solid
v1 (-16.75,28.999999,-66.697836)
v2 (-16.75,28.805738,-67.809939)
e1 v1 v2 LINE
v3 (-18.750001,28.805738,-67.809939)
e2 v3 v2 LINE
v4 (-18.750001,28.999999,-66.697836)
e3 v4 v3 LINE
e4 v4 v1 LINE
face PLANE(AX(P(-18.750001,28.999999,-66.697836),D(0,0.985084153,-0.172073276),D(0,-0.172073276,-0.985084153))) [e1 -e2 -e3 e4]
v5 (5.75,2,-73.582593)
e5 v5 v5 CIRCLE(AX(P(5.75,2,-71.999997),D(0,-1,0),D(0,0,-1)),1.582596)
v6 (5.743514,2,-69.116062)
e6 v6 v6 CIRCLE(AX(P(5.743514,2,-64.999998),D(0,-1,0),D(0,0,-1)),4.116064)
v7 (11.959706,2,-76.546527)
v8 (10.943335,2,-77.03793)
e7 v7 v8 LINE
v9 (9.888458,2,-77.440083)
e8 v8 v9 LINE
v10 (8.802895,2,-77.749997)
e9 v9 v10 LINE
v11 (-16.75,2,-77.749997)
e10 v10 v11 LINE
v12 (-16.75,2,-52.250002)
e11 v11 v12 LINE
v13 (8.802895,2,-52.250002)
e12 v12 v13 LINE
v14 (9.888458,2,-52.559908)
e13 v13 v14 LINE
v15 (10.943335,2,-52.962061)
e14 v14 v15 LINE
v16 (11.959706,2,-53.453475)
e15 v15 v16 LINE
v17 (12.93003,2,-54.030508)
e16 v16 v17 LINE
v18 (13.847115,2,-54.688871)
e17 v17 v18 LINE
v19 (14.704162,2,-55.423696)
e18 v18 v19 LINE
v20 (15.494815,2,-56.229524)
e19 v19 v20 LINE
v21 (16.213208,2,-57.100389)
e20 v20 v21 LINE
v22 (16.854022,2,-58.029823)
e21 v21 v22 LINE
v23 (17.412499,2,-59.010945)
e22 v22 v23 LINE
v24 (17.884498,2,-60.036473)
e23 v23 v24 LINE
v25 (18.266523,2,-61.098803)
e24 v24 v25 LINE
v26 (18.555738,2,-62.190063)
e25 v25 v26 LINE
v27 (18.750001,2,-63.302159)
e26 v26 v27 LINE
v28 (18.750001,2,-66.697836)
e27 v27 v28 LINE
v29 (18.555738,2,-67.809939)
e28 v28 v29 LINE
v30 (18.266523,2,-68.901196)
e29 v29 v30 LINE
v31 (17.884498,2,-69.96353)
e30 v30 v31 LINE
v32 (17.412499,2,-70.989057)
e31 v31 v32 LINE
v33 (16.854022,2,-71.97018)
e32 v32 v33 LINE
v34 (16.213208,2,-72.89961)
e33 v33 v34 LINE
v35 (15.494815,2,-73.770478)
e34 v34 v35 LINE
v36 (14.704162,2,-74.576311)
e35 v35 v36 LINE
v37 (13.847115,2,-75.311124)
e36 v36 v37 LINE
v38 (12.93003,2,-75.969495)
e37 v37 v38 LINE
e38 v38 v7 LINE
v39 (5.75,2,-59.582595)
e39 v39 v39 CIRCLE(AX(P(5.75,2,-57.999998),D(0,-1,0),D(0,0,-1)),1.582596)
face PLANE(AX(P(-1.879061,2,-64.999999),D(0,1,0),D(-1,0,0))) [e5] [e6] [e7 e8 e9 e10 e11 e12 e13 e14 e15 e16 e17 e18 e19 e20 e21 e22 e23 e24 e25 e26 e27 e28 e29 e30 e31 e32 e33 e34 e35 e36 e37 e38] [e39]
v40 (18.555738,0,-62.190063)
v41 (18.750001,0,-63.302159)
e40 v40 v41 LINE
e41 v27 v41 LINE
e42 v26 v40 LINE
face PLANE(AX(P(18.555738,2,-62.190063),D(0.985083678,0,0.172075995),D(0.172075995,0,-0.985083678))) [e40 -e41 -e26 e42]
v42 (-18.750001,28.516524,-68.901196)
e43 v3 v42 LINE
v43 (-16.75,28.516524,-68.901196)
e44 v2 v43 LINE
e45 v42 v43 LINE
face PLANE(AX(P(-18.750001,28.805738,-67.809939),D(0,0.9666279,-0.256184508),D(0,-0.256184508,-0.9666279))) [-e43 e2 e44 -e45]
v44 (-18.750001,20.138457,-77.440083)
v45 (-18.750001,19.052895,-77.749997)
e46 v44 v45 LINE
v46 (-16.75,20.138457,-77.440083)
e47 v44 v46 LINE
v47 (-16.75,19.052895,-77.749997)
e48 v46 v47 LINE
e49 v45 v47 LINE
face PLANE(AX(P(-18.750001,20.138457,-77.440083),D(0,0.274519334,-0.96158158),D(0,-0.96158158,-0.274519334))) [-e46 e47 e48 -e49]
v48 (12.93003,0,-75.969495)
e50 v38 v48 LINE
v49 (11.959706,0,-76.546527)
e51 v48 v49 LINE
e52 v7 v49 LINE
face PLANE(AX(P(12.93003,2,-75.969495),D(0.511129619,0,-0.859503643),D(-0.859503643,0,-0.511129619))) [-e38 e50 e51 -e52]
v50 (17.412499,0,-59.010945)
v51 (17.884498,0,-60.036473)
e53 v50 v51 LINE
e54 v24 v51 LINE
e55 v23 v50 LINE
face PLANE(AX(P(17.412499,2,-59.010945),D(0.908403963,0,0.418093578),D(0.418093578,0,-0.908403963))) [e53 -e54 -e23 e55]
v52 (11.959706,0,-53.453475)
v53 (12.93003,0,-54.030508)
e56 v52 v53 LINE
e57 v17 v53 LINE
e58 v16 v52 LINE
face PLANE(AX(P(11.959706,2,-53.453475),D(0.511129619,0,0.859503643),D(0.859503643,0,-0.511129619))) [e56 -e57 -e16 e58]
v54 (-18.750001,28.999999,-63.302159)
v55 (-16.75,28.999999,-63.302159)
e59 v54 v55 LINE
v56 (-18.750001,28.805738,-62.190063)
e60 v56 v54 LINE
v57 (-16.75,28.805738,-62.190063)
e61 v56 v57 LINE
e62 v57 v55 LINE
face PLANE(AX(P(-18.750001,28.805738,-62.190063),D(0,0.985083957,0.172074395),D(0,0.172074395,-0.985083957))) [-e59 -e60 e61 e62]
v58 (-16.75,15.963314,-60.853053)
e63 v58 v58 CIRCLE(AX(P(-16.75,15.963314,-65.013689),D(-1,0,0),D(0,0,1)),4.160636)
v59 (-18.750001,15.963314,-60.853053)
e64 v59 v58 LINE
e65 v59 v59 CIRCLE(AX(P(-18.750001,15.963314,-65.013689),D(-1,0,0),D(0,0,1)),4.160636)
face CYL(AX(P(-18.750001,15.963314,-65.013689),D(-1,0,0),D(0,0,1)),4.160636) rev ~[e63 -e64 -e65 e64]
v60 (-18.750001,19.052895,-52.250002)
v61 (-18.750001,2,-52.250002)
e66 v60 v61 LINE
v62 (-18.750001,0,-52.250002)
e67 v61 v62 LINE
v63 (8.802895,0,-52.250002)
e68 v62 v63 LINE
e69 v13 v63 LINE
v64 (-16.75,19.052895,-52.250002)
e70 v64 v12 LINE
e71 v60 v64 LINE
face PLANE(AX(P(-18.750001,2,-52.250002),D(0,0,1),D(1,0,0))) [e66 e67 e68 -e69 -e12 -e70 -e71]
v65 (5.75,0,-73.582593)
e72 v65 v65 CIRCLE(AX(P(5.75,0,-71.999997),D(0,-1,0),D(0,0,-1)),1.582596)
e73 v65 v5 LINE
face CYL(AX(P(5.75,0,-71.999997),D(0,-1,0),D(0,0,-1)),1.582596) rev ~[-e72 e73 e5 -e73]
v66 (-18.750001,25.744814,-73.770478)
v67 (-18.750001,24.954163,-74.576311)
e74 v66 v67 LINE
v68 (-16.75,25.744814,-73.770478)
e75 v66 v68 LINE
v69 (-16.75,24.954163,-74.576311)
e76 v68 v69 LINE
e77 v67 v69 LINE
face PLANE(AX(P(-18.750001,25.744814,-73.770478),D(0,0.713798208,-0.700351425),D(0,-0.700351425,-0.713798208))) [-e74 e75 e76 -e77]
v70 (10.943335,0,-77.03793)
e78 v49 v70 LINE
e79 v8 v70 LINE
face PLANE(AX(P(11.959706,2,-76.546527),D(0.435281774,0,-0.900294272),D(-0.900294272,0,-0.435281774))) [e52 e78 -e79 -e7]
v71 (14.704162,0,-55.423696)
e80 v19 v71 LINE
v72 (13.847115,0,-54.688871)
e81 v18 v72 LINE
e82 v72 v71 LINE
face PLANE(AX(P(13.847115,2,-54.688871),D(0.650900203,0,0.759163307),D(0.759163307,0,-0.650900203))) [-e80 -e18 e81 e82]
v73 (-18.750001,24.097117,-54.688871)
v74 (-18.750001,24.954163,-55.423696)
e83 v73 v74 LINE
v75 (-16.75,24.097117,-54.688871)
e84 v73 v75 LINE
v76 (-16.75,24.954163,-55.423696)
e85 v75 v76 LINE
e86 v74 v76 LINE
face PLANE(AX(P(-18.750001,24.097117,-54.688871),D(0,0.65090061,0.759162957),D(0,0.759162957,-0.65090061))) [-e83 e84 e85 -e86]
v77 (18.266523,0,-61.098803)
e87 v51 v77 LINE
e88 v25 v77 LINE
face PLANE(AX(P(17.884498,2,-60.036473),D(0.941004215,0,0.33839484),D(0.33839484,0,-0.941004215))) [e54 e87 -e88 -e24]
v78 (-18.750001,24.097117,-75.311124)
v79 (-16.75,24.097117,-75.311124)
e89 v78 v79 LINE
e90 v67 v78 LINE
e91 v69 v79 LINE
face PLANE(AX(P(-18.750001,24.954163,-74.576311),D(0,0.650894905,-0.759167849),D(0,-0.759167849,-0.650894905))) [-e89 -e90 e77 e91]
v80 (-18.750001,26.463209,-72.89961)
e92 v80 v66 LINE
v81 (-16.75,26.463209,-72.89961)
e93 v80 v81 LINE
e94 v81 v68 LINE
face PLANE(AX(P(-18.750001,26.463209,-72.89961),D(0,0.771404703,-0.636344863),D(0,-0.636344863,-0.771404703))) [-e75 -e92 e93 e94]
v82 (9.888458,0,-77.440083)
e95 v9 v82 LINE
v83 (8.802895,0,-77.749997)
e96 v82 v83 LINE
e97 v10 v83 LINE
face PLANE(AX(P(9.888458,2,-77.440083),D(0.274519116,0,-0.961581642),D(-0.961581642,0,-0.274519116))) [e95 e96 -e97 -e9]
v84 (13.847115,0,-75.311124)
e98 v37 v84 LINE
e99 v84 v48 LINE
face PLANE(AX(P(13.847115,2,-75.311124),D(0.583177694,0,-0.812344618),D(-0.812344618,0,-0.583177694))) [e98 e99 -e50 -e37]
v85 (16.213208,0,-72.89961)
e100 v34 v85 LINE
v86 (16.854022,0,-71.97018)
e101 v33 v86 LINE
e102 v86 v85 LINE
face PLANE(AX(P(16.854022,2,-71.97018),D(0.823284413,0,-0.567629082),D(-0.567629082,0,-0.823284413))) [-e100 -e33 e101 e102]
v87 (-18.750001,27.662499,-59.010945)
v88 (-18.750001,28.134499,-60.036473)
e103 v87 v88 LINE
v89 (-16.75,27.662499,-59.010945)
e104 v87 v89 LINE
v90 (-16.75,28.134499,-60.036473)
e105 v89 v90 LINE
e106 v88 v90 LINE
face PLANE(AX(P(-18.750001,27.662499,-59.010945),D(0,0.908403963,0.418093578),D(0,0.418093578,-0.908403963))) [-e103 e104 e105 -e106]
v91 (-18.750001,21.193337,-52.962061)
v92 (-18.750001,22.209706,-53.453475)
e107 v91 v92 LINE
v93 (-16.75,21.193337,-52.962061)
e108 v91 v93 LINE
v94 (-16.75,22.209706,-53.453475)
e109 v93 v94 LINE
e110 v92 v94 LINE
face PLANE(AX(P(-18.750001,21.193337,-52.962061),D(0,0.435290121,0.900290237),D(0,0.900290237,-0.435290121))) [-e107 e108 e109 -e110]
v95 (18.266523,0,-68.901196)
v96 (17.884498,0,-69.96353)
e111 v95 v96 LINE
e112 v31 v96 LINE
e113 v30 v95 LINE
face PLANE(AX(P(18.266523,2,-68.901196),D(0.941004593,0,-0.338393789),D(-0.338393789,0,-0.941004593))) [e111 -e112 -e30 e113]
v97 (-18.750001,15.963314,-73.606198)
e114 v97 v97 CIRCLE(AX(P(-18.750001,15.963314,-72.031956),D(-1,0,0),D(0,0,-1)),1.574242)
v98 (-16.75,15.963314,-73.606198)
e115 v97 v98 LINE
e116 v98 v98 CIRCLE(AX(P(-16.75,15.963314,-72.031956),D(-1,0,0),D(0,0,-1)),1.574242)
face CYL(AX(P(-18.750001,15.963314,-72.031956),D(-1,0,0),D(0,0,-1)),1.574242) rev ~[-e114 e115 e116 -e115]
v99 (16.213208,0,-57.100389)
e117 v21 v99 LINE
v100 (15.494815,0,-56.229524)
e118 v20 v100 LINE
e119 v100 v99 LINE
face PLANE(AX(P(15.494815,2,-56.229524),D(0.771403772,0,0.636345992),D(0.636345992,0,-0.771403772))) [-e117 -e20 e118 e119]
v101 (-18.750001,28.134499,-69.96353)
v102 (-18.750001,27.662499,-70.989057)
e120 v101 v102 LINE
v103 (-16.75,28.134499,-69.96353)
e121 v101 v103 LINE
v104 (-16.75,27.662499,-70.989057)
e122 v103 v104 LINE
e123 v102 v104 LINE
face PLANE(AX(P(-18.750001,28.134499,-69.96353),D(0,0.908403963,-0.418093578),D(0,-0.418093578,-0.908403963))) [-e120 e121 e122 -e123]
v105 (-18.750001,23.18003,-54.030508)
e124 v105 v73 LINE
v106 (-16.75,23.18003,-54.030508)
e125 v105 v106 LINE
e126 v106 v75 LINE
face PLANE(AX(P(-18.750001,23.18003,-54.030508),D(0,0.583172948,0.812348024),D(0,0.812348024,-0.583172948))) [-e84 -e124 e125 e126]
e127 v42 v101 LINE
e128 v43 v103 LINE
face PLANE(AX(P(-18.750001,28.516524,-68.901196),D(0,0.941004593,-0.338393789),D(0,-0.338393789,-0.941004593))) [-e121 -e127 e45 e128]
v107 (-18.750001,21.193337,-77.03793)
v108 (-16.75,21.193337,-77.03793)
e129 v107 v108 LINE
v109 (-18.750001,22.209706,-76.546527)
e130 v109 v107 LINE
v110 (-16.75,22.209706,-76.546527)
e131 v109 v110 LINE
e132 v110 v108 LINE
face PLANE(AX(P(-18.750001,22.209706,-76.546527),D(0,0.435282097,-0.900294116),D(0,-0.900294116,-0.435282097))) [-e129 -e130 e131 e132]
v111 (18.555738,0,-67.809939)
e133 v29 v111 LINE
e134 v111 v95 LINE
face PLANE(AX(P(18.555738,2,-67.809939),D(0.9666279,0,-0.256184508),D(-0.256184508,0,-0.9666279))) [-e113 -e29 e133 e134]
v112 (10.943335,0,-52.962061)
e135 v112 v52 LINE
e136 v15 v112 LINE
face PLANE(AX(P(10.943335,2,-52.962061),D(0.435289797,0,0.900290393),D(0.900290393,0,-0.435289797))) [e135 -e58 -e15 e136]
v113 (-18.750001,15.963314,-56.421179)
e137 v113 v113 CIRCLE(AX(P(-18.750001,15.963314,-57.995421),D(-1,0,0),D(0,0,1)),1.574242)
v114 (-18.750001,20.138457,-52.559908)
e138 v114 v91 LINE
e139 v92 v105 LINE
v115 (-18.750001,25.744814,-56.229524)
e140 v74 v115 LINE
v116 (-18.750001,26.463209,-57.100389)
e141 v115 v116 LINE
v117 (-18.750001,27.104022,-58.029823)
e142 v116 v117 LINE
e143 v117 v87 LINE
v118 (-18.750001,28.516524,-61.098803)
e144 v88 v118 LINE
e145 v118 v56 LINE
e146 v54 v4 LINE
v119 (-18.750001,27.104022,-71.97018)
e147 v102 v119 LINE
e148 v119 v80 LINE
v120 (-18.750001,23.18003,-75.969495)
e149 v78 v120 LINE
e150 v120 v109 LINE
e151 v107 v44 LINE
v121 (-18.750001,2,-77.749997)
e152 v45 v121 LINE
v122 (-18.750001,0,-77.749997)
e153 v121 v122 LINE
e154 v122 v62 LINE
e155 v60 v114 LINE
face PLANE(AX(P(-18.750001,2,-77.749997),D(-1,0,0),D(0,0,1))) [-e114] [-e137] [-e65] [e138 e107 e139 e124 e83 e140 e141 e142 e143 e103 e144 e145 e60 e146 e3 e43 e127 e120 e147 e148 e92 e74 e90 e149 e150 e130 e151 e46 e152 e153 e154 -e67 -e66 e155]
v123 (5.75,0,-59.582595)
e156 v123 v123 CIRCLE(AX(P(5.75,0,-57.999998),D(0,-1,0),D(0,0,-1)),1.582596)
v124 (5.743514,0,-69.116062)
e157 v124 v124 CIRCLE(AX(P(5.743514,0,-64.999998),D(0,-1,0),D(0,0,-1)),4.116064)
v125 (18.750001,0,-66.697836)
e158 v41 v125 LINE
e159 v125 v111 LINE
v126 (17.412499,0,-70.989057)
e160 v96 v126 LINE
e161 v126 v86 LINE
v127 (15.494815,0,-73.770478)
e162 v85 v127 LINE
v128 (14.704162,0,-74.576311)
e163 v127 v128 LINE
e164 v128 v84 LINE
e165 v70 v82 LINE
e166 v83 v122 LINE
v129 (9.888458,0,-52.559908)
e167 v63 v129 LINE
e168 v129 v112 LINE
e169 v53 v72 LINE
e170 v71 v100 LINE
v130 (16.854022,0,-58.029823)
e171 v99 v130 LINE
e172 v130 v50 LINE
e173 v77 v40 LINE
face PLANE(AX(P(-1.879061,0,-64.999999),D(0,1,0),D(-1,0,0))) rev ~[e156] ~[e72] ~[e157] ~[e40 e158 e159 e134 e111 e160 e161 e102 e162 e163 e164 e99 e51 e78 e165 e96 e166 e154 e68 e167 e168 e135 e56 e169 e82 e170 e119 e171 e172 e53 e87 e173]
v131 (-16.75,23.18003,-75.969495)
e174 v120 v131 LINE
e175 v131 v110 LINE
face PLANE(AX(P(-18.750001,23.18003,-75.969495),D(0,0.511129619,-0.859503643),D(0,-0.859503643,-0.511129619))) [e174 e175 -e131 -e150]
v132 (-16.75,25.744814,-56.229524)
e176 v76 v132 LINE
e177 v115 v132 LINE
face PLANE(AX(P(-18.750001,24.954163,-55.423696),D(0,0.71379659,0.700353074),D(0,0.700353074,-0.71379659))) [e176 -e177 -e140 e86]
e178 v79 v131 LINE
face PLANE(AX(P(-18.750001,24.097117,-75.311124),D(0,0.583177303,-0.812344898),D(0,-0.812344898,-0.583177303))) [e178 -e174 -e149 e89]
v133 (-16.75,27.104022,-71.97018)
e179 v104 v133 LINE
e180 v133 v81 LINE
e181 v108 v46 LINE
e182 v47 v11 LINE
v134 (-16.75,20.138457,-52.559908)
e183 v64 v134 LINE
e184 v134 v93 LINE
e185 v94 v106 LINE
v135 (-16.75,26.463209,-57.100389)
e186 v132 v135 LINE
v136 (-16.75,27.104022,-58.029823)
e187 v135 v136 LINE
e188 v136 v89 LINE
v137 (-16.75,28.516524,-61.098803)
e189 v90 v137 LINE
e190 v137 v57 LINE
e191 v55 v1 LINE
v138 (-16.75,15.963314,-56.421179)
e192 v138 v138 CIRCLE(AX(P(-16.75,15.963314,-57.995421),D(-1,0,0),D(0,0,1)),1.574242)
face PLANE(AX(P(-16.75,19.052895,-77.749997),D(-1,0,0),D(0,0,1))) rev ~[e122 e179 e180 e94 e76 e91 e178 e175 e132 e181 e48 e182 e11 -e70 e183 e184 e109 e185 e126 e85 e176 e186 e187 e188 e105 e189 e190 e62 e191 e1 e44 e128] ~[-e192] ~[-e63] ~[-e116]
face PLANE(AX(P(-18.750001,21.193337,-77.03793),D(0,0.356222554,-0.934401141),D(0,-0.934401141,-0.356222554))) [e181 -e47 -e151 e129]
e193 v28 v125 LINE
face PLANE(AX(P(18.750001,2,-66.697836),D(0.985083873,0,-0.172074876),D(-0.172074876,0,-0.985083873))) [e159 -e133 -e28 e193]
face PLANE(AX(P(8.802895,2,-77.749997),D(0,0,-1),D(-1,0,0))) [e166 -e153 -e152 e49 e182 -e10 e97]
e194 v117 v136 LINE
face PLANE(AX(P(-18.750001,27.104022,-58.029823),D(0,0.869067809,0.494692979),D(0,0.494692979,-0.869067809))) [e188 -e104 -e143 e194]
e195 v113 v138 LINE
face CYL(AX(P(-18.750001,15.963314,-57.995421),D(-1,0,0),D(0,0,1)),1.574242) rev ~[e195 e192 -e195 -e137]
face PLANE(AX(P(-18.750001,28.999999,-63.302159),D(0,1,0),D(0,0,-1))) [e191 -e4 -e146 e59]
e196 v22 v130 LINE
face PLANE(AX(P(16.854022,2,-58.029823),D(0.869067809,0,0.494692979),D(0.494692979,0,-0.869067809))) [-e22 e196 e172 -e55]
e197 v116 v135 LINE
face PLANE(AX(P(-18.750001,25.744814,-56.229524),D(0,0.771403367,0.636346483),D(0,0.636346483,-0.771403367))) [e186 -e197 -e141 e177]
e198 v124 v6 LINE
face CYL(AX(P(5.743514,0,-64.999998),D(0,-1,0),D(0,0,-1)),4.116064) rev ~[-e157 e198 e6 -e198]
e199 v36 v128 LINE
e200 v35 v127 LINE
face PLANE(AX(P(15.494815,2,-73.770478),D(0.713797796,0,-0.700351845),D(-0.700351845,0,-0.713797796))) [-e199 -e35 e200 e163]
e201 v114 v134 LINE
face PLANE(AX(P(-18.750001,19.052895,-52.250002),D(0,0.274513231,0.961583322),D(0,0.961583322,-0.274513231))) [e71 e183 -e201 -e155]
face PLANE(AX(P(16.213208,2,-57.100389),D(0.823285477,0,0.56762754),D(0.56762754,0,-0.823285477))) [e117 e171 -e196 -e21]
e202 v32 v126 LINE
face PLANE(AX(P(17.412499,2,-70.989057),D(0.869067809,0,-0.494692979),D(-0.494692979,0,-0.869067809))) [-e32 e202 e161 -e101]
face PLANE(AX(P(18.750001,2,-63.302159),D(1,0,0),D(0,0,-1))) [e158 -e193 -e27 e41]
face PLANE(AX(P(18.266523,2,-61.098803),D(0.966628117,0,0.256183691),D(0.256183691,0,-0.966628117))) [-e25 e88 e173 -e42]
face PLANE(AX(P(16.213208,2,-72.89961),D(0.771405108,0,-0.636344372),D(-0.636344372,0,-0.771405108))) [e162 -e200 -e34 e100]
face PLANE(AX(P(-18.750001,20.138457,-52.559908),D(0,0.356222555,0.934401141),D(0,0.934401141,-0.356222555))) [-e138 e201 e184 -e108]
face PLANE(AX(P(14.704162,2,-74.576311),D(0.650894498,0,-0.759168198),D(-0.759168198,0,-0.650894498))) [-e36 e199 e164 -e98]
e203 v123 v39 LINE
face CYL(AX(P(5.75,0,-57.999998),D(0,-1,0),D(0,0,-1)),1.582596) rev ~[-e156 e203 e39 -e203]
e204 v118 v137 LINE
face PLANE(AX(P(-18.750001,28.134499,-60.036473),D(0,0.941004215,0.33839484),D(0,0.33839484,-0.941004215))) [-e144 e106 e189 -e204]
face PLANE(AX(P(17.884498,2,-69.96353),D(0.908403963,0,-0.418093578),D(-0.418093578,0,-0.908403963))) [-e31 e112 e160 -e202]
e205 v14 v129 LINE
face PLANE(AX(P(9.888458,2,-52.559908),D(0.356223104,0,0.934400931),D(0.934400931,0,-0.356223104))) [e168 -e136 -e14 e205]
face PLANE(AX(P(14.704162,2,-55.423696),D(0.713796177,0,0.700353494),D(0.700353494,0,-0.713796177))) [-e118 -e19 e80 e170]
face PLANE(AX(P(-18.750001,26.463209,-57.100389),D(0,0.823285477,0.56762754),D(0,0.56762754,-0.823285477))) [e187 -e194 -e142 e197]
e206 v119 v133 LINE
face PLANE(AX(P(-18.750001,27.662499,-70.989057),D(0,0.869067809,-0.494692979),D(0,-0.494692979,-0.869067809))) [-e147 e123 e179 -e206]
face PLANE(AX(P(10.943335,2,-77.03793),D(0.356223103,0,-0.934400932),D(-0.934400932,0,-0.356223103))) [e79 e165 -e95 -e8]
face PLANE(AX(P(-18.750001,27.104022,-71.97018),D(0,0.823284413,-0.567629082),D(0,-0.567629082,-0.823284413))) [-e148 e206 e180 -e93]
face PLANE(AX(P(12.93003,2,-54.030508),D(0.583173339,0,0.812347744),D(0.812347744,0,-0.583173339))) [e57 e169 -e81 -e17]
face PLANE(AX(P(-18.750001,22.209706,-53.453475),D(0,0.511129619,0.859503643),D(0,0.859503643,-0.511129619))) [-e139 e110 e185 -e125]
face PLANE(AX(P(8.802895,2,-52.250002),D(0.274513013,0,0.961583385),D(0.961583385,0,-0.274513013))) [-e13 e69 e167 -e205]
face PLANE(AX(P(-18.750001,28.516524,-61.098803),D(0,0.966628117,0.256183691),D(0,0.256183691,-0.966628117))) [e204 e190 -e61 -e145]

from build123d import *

# Parameters (mm, degrees)
SALIENTE_EXTRUIR1_DEPTH = 2.000000328
CROQUIS2_W              = 2.000000328
CROQUIS2_H              = 25.499995797
SALIENTE_EXTRUIR2_DEPTH = 17.052894691
SALIENTE_EXTRUIR3_DEPTH = 2.000000095
CORTAR_EXTRUIR1_DEPTH   = 92.062133489
CORTAR_EXTRUIR2_DEPTH   = 92.062133489
CORTAR_EXTRUIR3_DEPTH   = 85.413414633
CORTAR_EXTRUIR4_DEPTH   = 85.413414633
CORTAR_EXTRUIR5_DEPTH   = 85.413414633
CORTAR_EXTRUIR6_DEPTH   = 91.256922872
CROQUIS10_R             = 4.160635969
CROQUIS10_R_2           = 1.574242088
CORTAR_EXTRUIR7_DEPTH   = 92.062133489
CROQUIS11_R             = 4.116064073
CROQUIS11_R_2           = 1.582596422
CORTAR_EXTRUIR8_DEPTH   = 86.074229775


with BuildPart() as part:
    # Croquis1 → Saliente-Extruir1 (new body)
    with BuildSketch(Plane(origin=(-18.750000745, 0, 0), x_dir=(0, -1, 0), z_dir=(-1, 0, 0))):
        Polygon((-19.052894786, -77.749997377), (-19.052894786, -52.25000158), (-20.138457417, -52.559908479), (-21.193336695, -52.962061018), (-22.209705785, -53.453475237), (-23.180030286, -54.030507803), (-24.097116664, -54.688870907), (-24.954162538, -55.423695594), (-25.744814426, -56.229524314), (-26.46320872, -57.100389153), (-27.104021981, -58.029823005), (-27.662498876, -59.010945261), (-28.134498745, -60.036472976), (-28.51652354, -61.098802835), (-28.805738315, -62.190063298), (-28.999999166, -63.302159309), (-28.999999166, -66.697835922), (-28.805738315, -67.809939384), (-28.51652354, -68.901196122), (-28.134498745, -69.963529706), (-27.662498876, -70.989057422), (-27.104021981, -71.970179677), (-26.46320872, -72.899609804), (-25.744814426, -73.770478368), (-24.954162538, -74.576310813), (-24.097116664, -75.311124325), (-23.180030286, -75.969494879), (-22.209705785, -76.546527445), (-21.193336695, -77.037930489), (-20.138457417, -77.440083027), align=None)
    extrude(amount=-SALIENTE_EXTRUIR1_DEPTH)

    # Croquis2 → Saliente-Extruir2 (add)
    with BuildSketch(Plane.XZ.offset(-19.052894786)):
        with Locations((-17.750000581, -64.999999479)):
            Rectangle(CROQUIS2_W, CROQUIS2_H)
    extrude(amount=SALIENTE_EXTRUIR2_DEPTH)

    # Croquis3 → Saliente-Extruir3 (add)
    with BuildSketch(Plane.XZ.offset(-2.000000095)):
        Polygon((8.802894503, -77.749997377), (-18.750000745, -77.749997377), (-18.750000745, -52.25000158), (8.802894503, -52.25000158), (9.888458066, -52.559908479), (10.943335481, -52.962061018), (11.959705502, -53.453475237), (12.930030003, -54.030507803), (13.84711545, -54.688870907), (14.704162255, -55.423695594), (15.494815074, -56.229524314), (16.213208437, -57.100389153), (16.854021698, -58.029823005), (17.412498593, -59.010945261), (17.884498462, -60.036472976), (18.266523257, -61.098802835), (18.555738032, -62.190063298), (18.750000745, -63.302159309), (18.750000745, -66.697835922), (18.555738032, -67.809939384), (18.266523257, -68.901196122), (17.884498462, -69.963529706), (17.412498593, -70.989057422), (16.854021698, -71.970179677), (16.213208437, -72.899609804), (15.494815074, -73.770478368), (14.704162255, -74.576310813), (13.84711545, -75.311124325), (12.930030003, -75.969494879), (11.959705502, -76.546527445), (10.943335481, -77.037930489), (9.888458066, -77.440083027), align=None)
    extrude(amount=SALIENTE_EXTRUIR3_DEPTH)

    # Croquis4 → Cortar-Extruir1 (cut, through all)
    with BuildSketch(Plane.ZY.offset(18.750000745)):
        Polygon((-67.884810269, 13.229101896), (-67.402966321, 12.802229263), (-66.858895123, 12.458175421), (-66.266670823, 12.205854058), (-65.641649067, 12.051798403), (-64.999997616, 12.000000104), (-64.358353615, 12.051798403), (-63.733331859, 12.205854058), (-63.141107559, 12.458175421), (-62.597028911, 12.802229263), (-62.115188688, 13.229101896), (-61.708066612, 13.727741316), (-61.386201531, 14.285230078), (-61.157926917, 14.887129888), (-61.029162258, 15.517854132), (-61.003241688, 16.161063686), (-61.08083576, 16.800101846), (-61.259932816, 17.41841808), (-61.535898596, 17.999999225), (-61.901580542, 18.529782072), (-62.347508967, 18.99404265), (-62.86213547, 19.380759448), (-63.432134688, 19.679918885), (-64.04273957, 19.883768633), (-64.678132534, 19.987029955), (-65.321870148, 19.987029955), (-65.957263112, 19.883768633), (-66.567860544, 19.679918885), (-67.137859762, 19.380759448), (-67.652486265, 18.99404265), (-68.098418415, 18.529782072), (-68.464100361, 17.999999225), (-68.740069866, 17.41841808), (-68.919159472, 16.800101846), (-68.996757269, 16.161063686), (-68.970829248, 15.517854132), (-68.842068315, 14.887129888), (-68.613797426, 14.285230078), (-68.291939795, 13.727741316), align=None)
    extrude(amount=-CORTAR_EXTRUIR1_DEPTH, mode=Mode.SUBTRACT)

    # Croquis5 → Cortar-Extruir2 (cut, through all)
    with BuildSketch(Plane.ZY.offset(18.750000745)):
        Polygon((-57.250000536, 14.700962231), (-56.939337403, 14.939339831), (-56.700963527, 15.250000171), (-56.551113725, 15.611771494), (-56.499999017, 16.00000076), (-56.551113725, 16.388230026), (-56.700963527, 16.750000417), (-56.939337403, 17.060659826), (-57.250000536, 17.299037427), (-57.611770928, 17.448889092), (-57.999998331, 17.500000075), (-58.38822946, 17.448889092), (-58.749999851, 17.299037427), (-59.060662985, 17.060659826), (-59.29903686, 16.750000417), (-59.448886663, 16.388230026), (-59.500001371, 16.00000076), (-59.448886663, 15.611771494), (-59.29903686, 15.250000171), (-59.060662985, 14.939339831), (-58.749999851, 14.700962231), (-58.38822946, 14.551111497), (-57.999998331, 14.499999583), (-57.611770928, 14.551111497), align=None)
    extrude(amount=-CORTAR_EXTRUIR2_DEPTH, mode=Mode.SUBTRACT)

    # Croquis6 → Cortar-Extruir3 (cut, through all)
    with BuildSketch(Plane(origin=(0, 2.000000095, 0), x_dir=(-1, 0, 0), z_dir=(0, 1, 0))):
        Polygon((-4.450961947, -57.250000536), (-4.689339548, -56.939337403), (-4.999999888, -56.700963527), (-5.361771677, -56.551113725), (-5.750000011, -56.499999017), (-6.138228346, -56.551113725), (-6.500000134, -56.700963527), (-6.810660474, -56.939337403), (-7.049038075, -57.250000536), (-7.198888808, -57.611770928), (-7.249999791, -57.999998331), (-7.198888808, -58.38822946), (-7.049038075, -58.749999851), (-6.810660474, -59.060662985), (-6.500000134, -59.29903686), (-6.138228346, -59.448886663), (-5.750000011, -59.500001371), (-5.361771677, -59.448886663), (-4.999999888, -59.29903686), (-4.689339548, -59.060662985), (-4.450961947, -58.749999851), (-4.301111214, -58.38822946), (-4.250000231, -57.999998331), (-4.301111214, -57.611770928), align=None)
    extrude(amount=-CORTAR_EXTRUIR3_DEPTH, mode=Mode.SUBTRACT)

    # Croquis7 → Cortar-Extruir4 (cut, through all)
    with BuildSketch(Plane(origin=(0, 2.000000095, 0), x_dir=(-1, 0, 0), z_dir=(0, 1, 0))):
        Polygon((-5.750000011, -73.49999994), (-5.361771677, -73.448888958), (-4.999999888, -73.299042881), (-4.689339548, -73.060661554), (-4.450961947, -72.750002146), (-4.301111214, -72.388231754), (-4.250000231, -71.999996901), (-4.301111214, -71.611769497), (-4.450961947, -71.249999106), (-4.689339548, -70.939339697), (-4.999999888, -70.700958371), (-5.361771677, -70.551112294), (-5.750000011, -70.500001311), (-6.138228346, -70.551112294), (-6.500000134, -70.700958371), (-6.810660474, -70.939339697), (-7.049038075, -71.249999106), (-7.198888808, -71.611769497), (-7.249999791, -71.999996901), (-7.198888808, -72.388231754), (-7.049038075, -72.750002146), (-6.810660474, -73.060661554), (-6.500000134, -73.299042881), (-6.138228346, -73.448888958), align=None)
    extrude(amount=-CORTAR_EXTRUIR4_DEPTH, mode=Mode.SUBTRACT)

    # Croquis8 → Cortar-Extruir5 (cut, through all)
    with BuildSketch(Plane(origin=(0, 2.000000095, 0), x_dir=(-1, 0, 0), z_dir=(0, 1, 0))):
        Polygon((-2.208175836, -63.141107559), (-2.55222898, -62.597028911), (-2.979102544, -62.115188688), (-3.477741033, -61.708066612), (-4.035229795, -61.386201531), (-4.63713007, -61.157926917), (-5.267853383, -61.029162258), (-5.911063869, -61.003241688), (-6.550102495, -61.08083576), (-7.168419193, -61.259932816), (-7.749999873, -61.535898596), (-8.279781789, -61.901580542), (-8.744043298, -62.347508967), (-9.130760096, -62.86213547), (-9.429917671, -63.432134688), (-9.633767419, -64.04273957), (-9.73702874, -64.678132534), (-9.73702874, -65.321870148), (-9.633767419, -65.957263112), (-9.429917671, -66.567860544), (-9.130760096, -67.137859762), (-8.744043298, -67.652486265), (-8.279781789, -68.098418415), (-7.749999873, -68.464100361), (-7.168419193, -68.740069866), (-6.550102495, -68.919159472), (-5.911063869, -68.996757269), (-5.267853383, -68.970829248), (-4.63713007, -68.842068315), (-4.035229795, -68.613797426), (-3.477741033, -68.291939795), (-2.979102544, -67.884810269), (-2.55222898, -67.402966321), (-2.208175836, -66.858895123), (-1.955854241, -66.266670823), (-1.801798935, -65.641649067), (-1.750000054, -64.999997616), (-1.801798935, -64.358353615), (-1.955854241, -63.733331859), align=None)
    extrude(amount=-CORTAR_EXTRUIR5_DEPTH, mode=Mode.SUBTRACT)

    # Croquis9 → Cortar-Extruir6 (cut, through all)
    with BuildSketch(Plane(origin=(-16.750000417, 0, 0), x_dir=(0, 0, -1), z_dir=(1, 0, 0))):
        Polygon((72.750002146, 14.700962231), (73.060661554, 14.939339831), (73.299042881, 15.250000171), (73.448888958, 15.611771494), (73.49999994, 16.00000076), (73.448888958, 16.388230026), (73.299042881, 16.750000417), (73.060661554, 17.060659826), (72.750002146, 17.299037427), (72.388231754, 17.448889092), (71.999996901, 17.500000075), (71.611769497, 17.448889092), (71.249999106, 17.299037427), (70.939339697, 17.060659826), (70.700958371, 16.750000417), (70.551112294, 16.388230026), (70.500001311, 16.00000076), (70.551112294, 15.611771494), (70.700958371, 15.250000171), (70.939339697, 14.939339831), (71.249999106, 14.700962231), (71.611769497, 14.551111497), (71.999996901, 14.499999583), (72.388231754, 14.551111497), align=None)
    extrude(amount=-CORTAR_EXTRUIR6_DEPTH, mode=Mode.SUBTRACT)

    # Croquis10 → Cortar-Extruir7 (cut, through all)
    with BuildSketch(Plane.ZY.offset(18.750000745)):
        with Locations((-65.013688685, 15.96331425)):
            Circle(CROQUIS10_R)
        with Locations((-57.995421153, 15.96331425)):
            Circle(CROQUIS10_R_2)
        with Locations(Location((-72.031956216, 15.96331425, 0), (0, 0, 180))):
            Circle(CROQUIS10_R_2)
    extrude(amount=-CORTAR_EXTRUIR7_DEPTH, mode=Mode.SUBTRACT)

    # Croquis11 → Cortar-Extruir8 (cut, through all)
    with BuildSketch(Plane.XZ):
        with Locations(Location((5.743514397, -64.999997616, 0), (0, 0, 270))):
            Circle(CROQUIS11_R)
        with Locations(Location((5.750000011, -57.999998331, 0), (0, 0, 270))):
            Circle(CROQUIS11_R_2)
        with Locations(Location((5.750000011, -71.999996901, 0), (0, 0, 270))):
            Circle(CROQUIS11_R_2)
    extrude(amount=-CORTAR_EXTRUIR8_DEPTH, mode=Mode.SUBTRACT)


solid = part.part
